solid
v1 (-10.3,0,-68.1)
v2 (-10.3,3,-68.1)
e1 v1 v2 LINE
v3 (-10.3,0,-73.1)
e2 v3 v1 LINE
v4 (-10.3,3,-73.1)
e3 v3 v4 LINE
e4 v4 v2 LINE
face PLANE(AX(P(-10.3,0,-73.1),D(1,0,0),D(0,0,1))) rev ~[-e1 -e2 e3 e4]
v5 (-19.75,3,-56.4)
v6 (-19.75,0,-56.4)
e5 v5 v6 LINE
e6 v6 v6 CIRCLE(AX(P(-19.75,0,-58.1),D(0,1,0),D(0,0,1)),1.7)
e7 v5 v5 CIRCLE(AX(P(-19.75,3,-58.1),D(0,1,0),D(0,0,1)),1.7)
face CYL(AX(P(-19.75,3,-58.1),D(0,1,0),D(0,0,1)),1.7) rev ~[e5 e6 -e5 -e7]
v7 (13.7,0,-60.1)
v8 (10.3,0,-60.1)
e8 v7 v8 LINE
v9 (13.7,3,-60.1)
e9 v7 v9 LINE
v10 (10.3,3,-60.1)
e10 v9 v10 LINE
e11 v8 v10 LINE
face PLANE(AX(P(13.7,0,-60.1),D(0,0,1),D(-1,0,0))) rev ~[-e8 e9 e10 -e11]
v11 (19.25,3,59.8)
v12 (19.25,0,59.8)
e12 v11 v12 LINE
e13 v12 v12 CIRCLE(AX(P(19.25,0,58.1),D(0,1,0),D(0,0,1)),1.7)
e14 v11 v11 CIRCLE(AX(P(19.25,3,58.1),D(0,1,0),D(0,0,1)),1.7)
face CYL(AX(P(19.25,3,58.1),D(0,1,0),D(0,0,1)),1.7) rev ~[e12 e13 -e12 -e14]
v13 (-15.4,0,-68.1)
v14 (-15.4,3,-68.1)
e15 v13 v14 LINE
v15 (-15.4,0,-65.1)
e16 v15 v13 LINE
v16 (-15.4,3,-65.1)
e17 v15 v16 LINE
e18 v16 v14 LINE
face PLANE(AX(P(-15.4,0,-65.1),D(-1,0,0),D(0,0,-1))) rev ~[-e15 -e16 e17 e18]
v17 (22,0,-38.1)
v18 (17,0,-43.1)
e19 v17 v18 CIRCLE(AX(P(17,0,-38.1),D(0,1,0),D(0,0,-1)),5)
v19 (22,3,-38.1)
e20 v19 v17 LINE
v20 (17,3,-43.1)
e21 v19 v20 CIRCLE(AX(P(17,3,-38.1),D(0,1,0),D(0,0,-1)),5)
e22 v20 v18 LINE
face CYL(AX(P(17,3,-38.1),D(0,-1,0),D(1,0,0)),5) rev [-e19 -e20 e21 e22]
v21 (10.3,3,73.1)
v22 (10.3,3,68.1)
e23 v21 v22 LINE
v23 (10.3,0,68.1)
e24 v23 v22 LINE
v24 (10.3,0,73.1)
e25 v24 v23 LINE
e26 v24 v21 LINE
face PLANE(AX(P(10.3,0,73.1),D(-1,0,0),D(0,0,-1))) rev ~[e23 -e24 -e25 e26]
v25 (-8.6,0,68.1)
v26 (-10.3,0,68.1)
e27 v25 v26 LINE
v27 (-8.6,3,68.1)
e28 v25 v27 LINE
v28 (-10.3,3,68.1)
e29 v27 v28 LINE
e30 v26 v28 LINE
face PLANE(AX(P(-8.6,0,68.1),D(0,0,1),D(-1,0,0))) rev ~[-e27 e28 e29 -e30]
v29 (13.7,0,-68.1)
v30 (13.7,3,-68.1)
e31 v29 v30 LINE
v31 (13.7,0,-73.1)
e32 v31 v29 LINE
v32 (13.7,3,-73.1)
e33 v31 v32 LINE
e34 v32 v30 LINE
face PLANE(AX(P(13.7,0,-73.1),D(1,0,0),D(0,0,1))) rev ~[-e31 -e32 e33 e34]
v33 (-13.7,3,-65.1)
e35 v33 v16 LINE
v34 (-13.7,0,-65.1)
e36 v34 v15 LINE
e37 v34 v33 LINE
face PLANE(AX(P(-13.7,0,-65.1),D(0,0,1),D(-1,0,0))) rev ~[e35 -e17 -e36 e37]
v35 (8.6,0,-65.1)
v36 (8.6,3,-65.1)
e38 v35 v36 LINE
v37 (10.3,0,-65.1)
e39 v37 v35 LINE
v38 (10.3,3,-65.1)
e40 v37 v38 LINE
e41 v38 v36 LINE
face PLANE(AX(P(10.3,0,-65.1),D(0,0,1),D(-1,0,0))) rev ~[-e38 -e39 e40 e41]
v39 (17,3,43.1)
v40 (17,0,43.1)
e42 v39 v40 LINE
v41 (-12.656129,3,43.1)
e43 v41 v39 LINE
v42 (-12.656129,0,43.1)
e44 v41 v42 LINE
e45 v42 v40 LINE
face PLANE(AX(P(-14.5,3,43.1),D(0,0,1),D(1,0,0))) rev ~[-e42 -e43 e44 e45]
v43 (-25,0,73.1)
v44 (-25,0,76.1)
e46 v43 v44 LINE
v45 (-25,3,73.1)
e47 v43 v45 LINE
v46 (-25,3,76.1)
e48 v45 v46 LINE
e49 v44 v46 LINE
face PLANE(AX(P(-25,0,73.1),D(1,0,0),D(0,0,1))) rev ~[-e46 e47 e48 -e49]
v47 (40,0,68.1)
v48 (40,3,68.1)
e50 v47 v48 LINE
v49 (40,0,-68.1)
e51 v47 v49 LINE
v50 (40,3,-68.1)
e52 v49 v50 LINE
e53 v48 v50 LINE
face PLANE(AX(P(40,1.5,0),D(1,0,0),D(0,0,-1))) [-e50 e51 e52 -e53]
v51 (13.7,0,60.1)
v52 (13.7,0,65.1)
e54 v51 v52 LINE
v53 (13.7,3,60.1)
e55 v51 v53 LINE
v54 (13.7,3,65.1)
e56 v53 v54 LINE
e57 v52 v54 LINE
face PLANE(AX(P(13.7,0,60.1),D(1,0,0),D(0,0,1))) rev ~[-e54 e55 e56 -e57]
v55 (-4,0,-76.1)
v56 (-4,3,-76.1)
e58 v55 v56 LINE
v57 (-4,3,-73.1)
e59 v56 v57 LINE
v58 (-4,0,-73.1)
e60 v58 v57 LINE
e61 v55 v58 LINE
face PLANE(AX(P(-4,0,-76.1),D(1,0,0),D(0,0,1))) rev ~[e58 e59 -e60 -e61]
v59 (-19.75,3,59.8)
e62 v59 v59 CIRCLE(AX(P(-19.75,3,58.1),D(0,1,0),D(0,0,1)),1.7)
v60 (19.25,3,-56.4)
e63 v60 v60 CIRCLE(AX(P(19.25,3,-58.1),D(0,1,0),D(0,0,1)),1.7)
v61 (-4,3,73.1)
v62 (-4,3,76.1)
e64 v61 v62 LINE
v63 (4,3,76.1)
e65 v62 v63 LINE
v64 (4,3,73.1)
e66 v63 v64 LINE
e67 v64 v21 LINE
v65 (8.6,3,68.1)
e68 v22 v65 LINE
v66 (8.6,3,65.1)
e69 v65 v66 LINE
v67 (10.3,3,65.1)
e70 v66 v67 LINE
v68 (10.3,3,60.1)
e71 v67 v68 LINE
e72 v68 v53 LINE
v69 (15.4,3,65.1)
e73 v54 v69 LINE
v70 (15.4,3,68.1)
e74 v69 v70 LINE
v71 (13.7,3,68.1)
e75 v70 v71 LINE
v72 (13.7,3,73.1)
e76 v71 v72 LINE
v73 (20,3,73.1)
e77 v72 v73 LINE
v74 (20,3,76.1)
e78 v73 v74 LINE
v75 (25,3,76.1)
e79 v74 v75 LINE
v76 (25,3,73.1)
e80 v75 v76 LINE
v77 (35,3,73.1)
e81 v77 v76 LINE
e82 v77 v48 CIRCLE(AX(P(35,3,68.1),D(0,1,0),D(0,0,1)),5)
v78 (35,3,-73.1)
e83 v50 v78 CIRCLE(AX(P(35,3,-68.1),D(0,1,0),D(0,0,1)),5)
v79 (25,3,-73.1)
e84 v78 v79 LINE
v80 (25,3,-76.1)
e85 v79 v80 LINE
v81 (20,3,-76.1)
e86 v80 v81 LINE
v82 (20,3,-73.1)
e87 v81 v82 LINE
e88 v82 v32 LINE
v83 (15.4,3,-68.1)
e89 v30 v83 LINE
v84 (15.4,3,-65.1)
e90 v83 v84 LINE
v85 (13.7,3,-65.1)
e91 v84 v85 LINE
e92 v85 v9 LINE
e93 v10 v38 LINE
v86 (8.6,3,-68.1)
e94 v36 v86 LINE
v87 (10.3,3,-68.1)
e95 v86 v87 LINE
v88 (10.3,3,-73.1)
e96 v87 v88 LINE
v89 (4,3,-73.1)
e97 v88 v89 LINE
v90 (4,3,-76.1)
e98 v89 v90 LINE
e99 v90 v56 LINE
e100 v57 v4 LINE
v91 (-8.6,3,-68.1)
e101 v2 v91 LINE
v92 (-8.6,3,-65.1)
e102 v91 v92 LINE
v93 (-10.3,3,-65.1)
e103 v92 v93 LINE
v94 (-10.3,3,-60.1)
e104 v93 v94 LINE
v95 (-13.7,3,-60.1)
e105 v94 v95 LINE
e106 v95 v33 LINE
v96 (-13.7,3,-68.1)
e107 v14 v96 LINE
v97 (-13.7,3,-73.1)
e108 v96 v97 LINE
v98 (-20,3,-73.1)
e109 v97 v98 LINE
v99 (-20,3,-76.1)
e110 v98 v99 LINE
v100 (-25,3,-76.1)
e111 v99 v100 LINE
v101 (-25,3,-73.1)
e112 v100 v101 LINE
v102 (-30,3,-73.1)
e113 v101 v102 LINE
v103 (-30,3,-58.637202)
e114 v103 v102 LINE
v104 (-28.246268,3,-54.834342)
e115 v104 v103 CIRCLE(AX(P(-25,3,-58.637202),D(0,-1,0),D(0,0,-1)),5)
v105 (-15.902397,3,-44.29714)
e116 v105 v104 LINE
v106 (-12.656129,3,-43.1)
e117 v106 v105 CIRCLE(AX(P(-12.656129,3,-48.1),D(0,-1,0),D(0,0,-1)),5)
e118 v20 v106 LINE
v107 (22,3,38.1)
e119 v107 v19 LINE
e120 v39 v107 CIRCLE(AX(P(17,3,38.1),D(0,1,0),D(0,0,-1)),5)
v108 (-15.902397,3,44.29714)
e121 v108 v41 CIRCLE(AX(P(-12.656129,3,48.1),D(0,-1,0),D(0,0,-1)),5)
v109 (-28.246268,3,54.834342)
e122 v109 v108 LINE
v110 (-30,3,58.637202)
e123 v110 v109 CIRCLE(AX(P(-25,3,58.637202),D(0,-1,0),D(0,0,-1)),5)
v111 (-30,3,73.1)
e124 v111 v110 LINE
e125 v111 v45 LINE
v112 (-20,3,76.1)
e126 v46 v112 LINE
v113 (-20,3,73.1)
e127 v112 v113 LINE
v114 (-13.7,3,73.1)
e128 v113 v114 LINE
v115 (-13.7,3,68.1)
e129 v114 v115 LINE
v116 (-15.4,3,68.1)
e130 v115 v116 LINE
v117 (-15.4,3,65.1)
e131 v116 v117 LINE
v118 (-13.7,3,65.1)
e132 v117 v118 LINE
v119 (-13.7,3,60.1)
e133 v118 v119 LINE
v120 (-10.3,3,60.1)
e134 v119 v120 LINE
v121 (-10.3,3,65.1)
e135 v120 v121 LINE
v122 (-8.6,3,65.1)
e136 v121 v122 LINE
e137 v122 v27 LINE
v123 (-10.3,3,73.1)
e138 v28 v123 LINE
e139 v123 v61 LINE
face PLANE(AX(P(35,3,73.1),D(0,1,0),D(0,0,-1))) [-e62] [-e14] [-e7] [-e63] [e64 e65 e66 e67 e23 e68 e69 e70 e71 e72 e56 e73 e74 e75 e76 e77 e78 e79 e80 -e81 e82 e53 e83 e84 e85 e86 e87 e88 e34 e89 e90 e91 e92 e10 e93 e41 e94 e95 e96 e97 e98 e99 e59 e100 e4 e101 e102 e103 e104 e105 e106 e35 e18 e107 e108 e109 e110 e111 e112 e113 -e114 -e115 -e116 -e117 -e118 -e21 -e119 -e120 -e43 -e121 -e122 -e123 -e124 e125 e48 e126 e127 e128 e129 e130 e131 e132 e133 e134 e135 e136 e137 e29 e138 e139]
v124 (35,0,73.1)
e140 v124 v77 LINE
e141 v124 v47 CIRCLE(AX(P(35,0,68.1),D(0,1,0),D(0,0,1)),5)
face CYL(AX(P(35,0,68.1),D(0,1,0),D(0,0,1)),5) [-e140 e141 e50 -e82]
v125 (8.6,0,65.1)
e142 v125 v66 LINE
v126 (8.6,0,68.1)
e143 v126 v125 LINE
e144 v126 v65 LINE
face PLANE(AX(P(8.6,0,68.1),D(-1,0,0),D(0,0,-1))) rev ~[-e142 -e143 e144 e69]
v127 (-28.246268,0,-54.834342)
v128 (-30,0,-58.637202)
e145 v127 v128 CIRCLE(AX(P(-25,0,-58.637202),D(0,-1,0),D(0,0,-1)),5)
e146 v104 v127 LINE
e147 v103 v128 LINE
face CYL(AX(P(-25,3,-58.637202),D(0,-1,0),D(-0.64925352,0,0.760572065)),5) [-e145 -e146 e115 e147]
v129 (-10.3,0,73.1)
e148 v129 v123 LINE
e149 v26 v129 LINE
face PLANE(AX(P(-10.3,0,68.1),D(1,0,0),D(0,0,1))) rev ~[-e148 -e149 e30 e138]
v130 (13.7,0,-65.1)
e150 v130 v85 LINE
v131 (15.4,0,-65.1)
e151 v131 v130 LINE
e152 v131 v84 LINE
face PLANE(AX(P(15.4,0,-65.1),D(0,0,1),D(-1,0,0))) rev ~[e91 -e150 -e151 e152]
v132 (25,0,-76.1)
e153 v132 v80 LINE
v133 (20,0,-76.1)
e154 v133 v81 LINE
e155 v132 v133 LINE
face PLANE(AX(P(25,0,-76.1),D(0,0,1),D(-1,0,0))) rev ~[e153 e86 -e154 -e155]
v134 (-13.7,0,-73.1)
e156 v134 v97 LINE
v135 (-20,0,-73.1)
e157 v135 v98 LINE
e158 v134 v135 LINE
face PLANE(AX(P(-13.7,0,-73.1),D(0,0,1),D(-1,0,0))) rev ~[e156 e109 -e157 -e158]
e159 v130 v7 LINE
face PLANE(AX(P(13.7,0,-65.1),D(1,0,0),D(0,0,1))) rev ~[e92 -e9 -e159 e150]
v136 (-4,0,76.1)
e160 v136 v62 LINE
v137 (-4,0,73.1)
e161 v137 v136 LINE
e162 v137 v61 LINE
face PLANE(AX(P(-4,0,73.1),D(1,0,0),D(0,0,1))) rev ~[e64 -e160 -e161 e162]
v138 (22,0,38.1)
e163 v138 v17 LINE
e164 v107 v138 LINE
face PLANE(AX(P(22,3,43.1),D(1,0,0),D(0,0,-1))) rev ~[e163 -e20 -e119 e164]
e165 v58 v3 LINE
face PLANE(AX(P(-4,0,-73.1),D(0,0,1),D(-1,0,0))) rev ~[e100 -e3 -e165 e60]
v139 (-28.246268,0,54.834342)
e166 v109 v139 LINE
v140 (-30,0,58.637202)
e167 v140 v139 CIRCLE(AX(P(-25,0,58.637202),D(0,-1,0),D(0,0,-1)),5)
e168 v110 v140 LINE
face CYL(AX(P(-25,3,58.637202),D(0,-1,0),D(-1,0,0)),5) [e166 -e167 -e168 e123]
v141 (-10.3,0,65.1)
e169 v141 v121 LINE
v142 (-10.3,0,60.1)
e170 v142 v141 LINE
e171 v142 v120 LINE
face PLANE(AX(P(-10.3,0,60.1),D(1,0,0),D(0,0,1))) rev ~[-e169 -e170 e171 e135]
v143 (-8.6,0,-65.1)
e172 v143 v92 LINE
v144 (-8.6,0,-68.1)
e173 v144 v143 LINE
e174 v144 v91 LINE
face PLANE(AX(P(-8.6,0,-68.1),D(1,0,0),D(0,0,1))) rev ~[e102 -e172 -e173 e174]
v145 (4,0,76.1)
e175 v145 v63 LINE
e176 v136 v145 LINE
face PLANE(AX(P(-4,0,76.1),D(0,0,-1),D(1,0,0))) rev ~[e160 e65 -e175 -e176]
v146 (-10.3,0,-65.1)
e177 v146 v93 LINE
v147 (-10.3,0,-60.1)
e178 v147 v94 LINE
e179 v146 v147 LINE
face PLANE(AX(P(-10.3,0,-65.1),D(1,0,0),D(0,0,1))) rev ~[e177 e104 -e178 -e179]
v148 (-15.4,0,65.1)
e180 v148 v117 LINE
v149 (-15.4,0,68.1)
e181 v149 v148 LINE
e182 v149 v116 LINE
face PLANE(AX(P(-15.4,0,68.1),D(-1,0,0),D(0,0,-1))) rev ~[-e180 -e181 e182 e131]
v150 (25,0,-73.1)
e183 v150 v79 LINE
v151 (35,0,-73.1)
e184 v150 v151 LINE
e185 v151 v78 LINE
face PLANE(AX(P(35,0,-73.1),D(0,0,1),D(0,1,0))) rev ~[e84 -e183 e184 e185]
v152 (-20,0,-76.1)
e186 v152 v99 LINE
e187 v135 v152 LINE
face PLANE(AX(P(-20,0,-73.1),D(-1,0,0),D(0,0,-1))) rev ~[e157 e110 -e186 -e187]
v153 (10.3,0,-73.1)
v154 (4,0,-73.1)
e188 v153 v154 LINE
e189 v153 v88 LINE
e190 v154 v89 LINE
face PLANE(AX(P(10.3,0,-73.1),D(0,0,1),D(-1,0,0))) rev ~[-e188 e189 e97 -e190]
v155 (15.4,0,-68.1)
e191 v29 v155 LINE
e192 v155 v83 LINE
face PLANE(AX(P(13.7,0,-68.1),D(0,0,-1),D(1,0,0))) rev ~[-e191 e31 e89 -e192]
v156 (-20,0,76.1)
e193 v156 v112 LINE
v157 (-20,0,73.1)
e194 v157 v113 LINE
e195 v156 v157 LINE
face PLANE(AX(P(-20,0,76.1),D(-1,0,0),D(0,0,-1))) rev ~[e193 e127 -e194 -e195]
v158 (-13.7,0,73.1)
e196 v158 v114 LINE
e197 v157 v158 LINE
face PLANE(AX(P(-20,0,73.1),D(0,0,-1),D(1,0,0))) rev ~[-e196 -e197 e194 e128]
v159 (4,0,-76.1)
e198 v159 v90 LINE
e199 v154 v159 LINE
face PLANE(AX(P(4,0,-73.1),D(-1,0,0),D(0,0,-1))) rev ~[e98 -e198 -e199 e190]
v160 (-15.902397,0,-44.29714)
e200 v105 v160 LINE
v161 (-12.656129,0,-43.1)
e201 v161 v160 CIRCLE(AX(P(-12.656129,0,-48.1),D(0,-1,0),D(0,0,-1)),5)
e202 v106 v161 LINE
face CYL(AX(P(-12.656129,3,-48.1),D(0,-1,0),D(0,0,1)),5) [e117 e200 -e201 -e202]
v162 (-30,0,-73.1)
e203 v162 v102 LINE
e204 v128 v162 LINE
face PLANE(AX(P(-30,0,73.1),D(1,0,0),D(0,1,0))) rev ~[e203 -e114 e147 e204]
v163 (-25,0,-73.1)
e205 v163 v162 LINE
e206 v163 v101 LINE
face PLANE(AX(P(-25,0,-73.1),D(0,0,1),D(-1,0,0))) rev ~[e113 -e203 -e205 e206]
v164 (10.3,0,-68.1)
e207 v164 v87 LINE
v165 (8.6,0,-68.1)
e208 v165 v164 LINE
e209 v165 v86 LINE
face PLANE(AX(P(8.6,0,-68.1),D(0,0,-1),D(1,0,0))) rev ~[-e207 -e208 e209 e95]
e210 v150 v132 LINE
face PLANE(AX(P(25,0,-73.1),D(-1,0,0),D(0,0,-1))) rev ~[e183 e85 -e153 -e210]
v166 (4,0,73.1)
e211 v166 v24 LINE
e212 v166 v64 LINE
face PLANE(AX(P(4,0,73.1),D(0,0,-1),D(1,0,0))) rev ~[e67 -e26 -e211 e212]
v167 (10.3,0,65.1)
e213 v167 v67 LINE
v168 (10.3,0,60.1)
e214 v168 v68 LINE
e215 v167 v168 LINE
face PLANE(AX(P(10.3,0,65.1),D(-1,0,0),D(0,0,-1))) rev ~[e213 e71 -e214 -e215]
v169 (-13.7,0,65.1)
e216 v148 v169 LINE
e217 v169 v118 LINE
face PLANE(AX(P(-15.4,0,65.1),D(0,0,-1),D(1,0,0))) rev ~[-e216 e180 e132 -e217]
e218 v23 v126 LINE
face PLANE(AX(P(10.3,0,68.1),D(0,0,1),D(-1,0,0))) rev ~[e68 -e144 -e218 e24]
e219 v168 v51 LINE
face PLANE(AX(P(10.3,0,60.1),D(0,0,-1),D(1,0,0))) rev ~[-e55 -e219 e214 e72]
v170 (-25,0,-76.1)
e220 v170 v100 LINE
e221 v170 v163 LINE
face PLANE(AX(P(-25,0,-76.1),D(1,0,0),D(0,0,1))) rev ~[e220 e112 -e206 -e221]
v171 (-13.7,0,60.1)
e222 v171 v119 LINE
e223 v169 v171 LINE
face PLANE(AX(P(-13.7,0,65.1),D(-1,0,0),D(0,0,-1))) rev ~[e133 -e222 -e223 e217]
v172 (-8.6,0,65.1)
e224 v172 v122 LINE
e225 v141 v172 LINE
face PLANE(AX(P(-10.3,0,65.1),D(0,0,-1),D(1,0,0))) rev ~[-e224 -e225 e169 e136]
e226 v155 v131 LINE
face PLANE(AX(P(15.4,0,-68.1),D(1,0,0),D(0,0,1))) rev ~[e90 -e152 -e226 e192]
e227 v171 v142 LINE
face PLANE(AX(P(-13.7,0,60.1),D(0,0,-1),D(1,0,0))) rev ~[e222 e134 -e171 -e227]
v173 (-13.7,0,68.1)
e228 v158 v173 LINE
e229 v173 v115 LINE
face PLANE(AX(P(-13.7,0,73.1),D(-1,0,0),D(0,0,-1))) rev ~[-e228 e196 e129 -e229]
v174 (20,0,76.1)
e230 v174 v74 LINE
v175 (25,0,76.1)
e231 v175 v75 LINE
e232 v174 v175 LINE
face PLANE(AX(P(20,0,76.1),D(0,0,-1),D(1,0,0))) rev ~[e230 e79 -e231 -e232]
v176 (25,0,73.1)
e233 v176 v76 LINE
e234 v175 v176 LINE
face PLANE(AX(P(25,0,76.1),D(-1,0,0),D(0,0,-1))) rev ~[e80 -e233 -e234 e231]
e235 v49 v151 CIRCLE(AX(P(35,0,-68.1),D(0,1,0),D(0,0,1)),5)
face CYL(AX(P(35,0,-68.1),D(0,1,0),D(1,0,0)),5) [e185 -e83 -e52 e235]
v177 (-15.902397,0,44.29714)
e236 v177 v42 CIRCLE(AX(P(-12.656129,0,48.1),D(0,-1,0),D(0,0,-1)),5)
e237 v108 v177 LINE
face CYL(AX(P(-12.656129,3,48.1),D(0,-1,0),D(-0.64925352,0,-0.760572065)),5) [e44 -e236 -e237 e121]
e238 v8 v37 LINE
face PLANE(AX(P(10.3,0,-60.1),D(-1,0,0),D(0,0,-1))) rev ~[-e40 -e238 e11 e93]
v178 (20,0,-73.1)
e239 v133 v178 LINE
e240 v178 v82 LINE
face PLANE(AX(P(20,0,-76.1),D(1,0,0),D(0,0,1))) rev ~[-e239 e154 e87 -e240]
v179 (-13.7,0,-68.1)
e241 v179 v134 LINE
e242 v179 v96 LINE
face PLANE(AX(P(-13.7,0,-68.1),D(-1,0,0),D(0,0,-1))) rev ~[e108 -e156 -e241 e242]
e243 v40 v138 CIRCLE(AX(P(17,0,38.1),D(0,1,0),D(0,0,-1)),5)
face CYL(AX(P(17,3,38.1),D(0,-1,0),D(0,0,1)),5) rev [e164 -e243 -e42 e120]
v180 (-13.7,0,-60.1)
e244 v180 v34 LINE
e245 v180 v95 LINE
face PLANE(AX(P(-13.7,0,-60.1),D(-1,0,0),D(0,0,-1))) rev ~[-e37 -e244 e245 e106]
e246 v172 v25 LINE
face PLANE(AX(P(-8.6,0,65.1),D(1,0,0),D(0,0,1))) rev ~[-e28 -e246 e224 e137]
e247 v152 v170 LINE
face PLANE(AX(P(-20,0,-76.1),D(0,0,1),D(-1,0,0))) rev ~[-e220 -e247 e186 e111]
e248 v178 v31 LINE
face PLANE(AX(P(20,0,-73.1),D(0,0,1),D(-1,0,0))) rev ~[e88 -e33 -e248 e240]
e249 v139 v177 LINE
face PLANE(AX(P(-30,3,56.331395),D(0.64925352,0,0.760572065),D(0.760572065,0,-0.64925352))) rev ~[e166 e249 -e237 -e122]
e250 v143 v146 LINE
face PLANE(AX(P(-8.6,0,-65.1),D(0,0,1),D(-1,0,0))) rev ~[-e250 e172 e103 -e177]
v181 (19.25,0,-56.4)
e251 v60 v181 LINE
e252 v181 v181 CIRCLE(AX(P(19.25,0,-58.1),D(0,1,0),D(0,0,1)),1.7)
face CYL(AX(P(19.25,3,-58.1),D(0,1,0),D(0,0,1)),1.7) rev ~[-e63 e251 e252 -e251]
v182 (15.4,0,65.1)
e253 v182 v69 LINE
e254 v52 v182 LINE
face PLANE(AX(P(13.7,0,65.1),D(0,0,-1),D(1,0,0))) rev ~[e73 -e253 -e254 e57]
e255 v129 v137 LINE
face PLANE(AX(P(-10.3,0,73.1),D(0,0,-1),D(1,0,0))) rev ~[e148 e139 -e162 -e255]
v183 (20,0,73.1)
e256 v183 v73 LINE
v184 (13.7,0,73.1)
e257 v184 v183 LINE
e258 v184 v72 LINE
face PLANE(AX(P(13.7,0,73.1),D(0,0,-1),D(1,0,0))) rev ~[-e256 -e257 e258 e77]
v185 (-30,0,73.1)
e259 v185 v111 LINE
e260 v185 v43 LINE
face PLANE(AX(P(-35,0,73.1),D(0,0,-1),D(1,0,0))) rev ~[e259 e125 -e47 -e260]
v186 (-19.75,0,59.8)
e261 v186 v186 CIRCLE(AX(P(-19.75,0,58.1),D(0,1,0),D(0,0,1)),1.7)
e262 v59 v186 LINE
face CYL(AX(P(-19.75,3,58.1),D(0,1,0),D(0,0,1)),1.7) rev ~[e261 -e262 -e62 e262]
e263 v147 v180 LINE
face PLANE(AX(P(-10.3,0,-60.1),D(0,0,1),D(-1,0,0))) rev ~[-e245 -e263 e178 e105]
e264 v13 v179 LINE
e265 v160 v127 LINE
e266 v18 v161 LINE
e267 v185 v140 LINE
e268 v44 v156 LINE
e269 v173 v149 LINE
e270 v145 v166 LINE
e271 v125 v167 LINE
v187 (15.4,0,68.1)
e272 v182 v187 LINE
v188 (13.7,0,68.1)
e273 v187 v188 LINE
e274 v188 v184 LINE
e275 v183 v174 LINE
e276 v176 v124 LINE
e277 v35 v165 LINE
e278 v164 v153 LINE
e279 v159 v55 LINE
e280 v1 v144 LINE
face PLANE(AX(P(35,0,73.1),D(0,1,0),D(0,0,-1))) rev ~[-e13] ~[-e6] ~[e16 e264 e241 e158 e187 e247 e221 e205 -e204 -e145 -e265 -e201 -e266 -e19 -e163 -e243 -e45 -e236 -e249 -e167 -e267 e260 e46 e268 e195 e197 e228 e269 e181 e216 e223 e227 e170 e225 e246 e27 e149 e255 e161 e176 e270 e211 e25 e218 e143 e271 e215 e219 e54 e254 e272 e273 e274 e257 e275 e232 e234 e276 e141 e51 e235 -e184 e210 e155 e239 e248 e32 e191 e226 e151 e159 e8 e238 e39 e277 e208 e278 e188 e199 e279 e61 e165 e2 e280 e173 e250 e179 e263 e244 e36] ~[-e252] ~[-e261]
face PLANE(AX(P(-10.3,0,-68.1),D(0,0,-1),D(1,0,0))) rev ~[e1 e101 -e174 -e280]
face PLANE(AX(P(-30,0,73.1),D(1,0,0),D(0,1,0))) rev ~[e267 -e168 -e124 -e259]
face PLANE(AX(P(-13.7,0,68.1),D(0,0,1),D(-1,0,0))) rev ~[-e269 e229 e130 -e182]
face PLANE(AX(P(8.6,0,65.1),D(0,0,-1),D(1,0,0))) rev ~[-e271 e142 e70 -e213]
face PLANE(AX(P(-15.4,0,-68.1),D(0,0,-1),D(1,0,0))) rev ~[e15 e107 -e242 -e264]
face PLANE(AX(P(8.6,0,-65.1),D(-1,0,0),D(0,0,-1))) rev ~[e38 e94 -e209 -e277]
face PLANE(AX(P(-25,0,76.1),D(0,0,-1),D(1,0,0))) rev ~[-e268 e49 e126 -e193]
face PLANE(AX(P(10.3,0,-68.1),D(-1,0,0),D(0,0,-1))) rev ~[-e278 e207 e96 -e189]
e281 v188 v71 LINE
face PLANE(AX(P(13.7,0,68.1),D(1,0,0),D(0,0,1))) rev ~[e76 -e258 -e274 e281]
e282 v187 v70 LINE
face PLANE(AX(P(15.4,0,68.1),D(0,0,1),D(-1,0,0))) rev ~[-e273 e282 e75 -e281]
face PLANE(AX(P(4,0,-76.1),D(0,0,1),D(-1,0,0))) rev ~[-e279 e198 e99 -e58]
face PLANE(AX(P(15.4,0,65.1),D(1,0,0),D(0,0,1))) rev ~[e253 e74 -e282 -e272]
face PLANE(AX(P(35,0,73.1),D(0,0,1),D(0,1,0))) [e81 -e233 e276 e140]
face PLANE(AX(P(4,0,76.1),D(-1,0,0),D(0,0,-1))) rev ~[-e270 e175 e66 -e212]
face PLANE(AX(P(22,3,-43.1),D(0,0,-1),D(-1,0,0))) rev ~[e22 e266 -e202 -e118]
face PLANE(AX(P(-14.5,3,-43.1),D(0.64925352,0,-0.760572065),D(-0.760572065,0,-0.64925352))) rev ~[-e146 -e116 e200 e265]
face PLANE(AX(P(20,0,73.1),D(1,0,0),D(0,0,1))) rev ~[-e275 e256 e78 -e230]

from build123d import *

# Parameters (mm, degrees)
EXTRUDE_1_DEPTH     = 3
SKETCH_2_W          = 5
SKETCH_2_H          = 3
CUT_EXTRUDE_1_DEPTH = 176
SKETCH_3_W          = 146.2
SKETCH_3_H          = 3
EXTRUDE_2_DEPTH     = 5
SKETCH_4_R          = 1.7
CUT_EXTRUDE_2_DEPTH = 5
CUT_EXTRUDE_3_DEPTH = 10
FILLET_1_R          = 5
FILLET_2_R          = 5


with BuildPart() as part:
    # 草图1 → 凸台-拉伸1 (new body)
    with BuildSketch(Plane(origin=(0, 0, 0), x_dir=(1, 0, 0), z_dir=(0, 1, 0))):
        Polygon((-25, -73.1), (-25, -76.1), (-20, -76.1), (-20, -73.1), (-13.7, -73.1), (-13.7, -68.1), (-15.4, -68.1), (-15.4, -65.1), (-13.7, -65.1), (-13.7, -60.1), (-10.3, -60.1), (-10.3, -65.1), (-8.6, -65.1), (-8.6, -68.1), (-10.3, -68.1), (-10.3, -73.1), (-4, -73.1), (-4, -76.1), (4, -76.1), (4, -73.1), (10.3, -73.1), (10.3, -68.1), (8.6, -68.1), (8.6, -65.1), (10.3, -65.1), (10.3, -60.1), (13.7, -60.1), (13.7, -65.1), (15.4, -65.1), (15.4, -68.1), (13.7, -68.1), (13.7, -73.1), (20, -73.1), (20, -76.1), (25, -76.1), (25, -73.1), (35, -73.1), (35, 73.1), (25, 73.1), (25, 76.1), (20, 76.1), (20, 73.1), (13.7, 73.1), (13.7, 68.1), (15.4, 68.1), (15.4, 65.1), (13.7, 65.1), (13.7, 60.1), (10.3, 60.1), (10.3, 65.1), (8.6, 65.1), (8.6, 68.1), (10.3, 68.1), (10.3, 73.1), (4, 73.1), (4, 76.1), (-4, 76.1), (-4, 73.1), (-10.3, 73.1), (-10.3, 68.1), (-8.6, 68.1), (-8.6, 65.1), (-10.3, 65.1), (-10.3, 60.1), (-13.7, 60.1), (-13.7, 65.1), (-15.4, 65.1), (-15.4, 68.1), (-13.7, 68.1), (-13.7, 73.1), (-20, 73.1), (-20, 76.1), (-25, 76.1), (-25, 73.1), (-35, 73.1), (-35, -73.1), align=None)
    extrude(amount=EXTRUDE_1_DEPTH)

    # 草图2 → 切除-拉伸1 (cut)
    with BuildSketch(Plane.XY.offset(73.1)):
        with Locations((-32.5, 1.5)):
            Rectangle(SKETCH_2_W, SKETCH_2_H)
    extrude(amount=-CUT_EXTRUDE_1_DEPTH, mode=Mode.SUBTRACT)

    # 草图3 → 凸台-拉伸2 (add)
    with BuildSketch(Plane(origin=(35, 0, 0), x_dir=(0, 0, -1), z_dir=(1, 0, 0))):
        with Locations((0, 1.5)):
            Rectangle(SKETCH_3_W, SKETCH_3_H)
    extrude(amount=EXTRUDE_2_DEPTH)

    # 草图4 → 切除-拉伸2 (cut)
    with BuildSketch(Plane(origin=(0, 3, 0), x_dir=(1, 0, 0), z_dir=(0, 1, 0))):
        with Locations(Location((-19.75, -58.1, 0), (0, 0, 270))):
            Circle(SKETCH_4_R)
        with Locations(Location((19.25, -58.1, 0), (0, 0, 270))):
            Circle(SKETCH_4_R)
        with Locations(Location((19.25, 58.1, 0), (0, 0, 270))):
            Circle(SKETCH_4_R)
        with Locations(Location((-19.75, 58.1, 0), (0, 0, 270))):
            Circle(SKETCH_4_R)
    extrude(amount=-CUT_EXTRUDE_2_DEPTH, mode=Mode.SUBTRACT)

    # 草图5 → 切除-拉伸3 (cut)
    with BuildSketch(Plane(origin=(0, 3, 0), x_dir=(1, 0, 0), z_dir=(0, 1, 0))):
        Polygon((-30, -56.331395183), (-14.5, -43.1), (0, -43.1), (22, -43.1), (22, 43.1), (-14.5, 43.1), (-30, 56.331395183), align=None)
    extrude(amount=-CUT_EXTRUDE_3_DEPTH, mode=Mode.SUBTRACT)

    # 圆角1
    fillet_1_edges = [part.edges().sort_by_distance(p)[0] for p in [
        (-30, 1.5, 56.331395183),
        (-30, 1.5, -56.331395183),
        (-14.5, 1.5, -43.1),
        (22, 1.5, -43.1),
        (22, 1.5, 43.1),
        (-14.5, 1.5, 43.1),
    ]]
    fillet(fillet_1_edges, radius=FILLET_1_R)

    # 圆角2
    fillet_2_edges = [part.edges().sort_by_distance(p)[0] for p in [
        (40, 1.5, 73.1),
        (40, 1.5, -73.1),
    ]]
    fillet(fillet_2_edges, radius=FILLET_2_R)


solid = part.part
